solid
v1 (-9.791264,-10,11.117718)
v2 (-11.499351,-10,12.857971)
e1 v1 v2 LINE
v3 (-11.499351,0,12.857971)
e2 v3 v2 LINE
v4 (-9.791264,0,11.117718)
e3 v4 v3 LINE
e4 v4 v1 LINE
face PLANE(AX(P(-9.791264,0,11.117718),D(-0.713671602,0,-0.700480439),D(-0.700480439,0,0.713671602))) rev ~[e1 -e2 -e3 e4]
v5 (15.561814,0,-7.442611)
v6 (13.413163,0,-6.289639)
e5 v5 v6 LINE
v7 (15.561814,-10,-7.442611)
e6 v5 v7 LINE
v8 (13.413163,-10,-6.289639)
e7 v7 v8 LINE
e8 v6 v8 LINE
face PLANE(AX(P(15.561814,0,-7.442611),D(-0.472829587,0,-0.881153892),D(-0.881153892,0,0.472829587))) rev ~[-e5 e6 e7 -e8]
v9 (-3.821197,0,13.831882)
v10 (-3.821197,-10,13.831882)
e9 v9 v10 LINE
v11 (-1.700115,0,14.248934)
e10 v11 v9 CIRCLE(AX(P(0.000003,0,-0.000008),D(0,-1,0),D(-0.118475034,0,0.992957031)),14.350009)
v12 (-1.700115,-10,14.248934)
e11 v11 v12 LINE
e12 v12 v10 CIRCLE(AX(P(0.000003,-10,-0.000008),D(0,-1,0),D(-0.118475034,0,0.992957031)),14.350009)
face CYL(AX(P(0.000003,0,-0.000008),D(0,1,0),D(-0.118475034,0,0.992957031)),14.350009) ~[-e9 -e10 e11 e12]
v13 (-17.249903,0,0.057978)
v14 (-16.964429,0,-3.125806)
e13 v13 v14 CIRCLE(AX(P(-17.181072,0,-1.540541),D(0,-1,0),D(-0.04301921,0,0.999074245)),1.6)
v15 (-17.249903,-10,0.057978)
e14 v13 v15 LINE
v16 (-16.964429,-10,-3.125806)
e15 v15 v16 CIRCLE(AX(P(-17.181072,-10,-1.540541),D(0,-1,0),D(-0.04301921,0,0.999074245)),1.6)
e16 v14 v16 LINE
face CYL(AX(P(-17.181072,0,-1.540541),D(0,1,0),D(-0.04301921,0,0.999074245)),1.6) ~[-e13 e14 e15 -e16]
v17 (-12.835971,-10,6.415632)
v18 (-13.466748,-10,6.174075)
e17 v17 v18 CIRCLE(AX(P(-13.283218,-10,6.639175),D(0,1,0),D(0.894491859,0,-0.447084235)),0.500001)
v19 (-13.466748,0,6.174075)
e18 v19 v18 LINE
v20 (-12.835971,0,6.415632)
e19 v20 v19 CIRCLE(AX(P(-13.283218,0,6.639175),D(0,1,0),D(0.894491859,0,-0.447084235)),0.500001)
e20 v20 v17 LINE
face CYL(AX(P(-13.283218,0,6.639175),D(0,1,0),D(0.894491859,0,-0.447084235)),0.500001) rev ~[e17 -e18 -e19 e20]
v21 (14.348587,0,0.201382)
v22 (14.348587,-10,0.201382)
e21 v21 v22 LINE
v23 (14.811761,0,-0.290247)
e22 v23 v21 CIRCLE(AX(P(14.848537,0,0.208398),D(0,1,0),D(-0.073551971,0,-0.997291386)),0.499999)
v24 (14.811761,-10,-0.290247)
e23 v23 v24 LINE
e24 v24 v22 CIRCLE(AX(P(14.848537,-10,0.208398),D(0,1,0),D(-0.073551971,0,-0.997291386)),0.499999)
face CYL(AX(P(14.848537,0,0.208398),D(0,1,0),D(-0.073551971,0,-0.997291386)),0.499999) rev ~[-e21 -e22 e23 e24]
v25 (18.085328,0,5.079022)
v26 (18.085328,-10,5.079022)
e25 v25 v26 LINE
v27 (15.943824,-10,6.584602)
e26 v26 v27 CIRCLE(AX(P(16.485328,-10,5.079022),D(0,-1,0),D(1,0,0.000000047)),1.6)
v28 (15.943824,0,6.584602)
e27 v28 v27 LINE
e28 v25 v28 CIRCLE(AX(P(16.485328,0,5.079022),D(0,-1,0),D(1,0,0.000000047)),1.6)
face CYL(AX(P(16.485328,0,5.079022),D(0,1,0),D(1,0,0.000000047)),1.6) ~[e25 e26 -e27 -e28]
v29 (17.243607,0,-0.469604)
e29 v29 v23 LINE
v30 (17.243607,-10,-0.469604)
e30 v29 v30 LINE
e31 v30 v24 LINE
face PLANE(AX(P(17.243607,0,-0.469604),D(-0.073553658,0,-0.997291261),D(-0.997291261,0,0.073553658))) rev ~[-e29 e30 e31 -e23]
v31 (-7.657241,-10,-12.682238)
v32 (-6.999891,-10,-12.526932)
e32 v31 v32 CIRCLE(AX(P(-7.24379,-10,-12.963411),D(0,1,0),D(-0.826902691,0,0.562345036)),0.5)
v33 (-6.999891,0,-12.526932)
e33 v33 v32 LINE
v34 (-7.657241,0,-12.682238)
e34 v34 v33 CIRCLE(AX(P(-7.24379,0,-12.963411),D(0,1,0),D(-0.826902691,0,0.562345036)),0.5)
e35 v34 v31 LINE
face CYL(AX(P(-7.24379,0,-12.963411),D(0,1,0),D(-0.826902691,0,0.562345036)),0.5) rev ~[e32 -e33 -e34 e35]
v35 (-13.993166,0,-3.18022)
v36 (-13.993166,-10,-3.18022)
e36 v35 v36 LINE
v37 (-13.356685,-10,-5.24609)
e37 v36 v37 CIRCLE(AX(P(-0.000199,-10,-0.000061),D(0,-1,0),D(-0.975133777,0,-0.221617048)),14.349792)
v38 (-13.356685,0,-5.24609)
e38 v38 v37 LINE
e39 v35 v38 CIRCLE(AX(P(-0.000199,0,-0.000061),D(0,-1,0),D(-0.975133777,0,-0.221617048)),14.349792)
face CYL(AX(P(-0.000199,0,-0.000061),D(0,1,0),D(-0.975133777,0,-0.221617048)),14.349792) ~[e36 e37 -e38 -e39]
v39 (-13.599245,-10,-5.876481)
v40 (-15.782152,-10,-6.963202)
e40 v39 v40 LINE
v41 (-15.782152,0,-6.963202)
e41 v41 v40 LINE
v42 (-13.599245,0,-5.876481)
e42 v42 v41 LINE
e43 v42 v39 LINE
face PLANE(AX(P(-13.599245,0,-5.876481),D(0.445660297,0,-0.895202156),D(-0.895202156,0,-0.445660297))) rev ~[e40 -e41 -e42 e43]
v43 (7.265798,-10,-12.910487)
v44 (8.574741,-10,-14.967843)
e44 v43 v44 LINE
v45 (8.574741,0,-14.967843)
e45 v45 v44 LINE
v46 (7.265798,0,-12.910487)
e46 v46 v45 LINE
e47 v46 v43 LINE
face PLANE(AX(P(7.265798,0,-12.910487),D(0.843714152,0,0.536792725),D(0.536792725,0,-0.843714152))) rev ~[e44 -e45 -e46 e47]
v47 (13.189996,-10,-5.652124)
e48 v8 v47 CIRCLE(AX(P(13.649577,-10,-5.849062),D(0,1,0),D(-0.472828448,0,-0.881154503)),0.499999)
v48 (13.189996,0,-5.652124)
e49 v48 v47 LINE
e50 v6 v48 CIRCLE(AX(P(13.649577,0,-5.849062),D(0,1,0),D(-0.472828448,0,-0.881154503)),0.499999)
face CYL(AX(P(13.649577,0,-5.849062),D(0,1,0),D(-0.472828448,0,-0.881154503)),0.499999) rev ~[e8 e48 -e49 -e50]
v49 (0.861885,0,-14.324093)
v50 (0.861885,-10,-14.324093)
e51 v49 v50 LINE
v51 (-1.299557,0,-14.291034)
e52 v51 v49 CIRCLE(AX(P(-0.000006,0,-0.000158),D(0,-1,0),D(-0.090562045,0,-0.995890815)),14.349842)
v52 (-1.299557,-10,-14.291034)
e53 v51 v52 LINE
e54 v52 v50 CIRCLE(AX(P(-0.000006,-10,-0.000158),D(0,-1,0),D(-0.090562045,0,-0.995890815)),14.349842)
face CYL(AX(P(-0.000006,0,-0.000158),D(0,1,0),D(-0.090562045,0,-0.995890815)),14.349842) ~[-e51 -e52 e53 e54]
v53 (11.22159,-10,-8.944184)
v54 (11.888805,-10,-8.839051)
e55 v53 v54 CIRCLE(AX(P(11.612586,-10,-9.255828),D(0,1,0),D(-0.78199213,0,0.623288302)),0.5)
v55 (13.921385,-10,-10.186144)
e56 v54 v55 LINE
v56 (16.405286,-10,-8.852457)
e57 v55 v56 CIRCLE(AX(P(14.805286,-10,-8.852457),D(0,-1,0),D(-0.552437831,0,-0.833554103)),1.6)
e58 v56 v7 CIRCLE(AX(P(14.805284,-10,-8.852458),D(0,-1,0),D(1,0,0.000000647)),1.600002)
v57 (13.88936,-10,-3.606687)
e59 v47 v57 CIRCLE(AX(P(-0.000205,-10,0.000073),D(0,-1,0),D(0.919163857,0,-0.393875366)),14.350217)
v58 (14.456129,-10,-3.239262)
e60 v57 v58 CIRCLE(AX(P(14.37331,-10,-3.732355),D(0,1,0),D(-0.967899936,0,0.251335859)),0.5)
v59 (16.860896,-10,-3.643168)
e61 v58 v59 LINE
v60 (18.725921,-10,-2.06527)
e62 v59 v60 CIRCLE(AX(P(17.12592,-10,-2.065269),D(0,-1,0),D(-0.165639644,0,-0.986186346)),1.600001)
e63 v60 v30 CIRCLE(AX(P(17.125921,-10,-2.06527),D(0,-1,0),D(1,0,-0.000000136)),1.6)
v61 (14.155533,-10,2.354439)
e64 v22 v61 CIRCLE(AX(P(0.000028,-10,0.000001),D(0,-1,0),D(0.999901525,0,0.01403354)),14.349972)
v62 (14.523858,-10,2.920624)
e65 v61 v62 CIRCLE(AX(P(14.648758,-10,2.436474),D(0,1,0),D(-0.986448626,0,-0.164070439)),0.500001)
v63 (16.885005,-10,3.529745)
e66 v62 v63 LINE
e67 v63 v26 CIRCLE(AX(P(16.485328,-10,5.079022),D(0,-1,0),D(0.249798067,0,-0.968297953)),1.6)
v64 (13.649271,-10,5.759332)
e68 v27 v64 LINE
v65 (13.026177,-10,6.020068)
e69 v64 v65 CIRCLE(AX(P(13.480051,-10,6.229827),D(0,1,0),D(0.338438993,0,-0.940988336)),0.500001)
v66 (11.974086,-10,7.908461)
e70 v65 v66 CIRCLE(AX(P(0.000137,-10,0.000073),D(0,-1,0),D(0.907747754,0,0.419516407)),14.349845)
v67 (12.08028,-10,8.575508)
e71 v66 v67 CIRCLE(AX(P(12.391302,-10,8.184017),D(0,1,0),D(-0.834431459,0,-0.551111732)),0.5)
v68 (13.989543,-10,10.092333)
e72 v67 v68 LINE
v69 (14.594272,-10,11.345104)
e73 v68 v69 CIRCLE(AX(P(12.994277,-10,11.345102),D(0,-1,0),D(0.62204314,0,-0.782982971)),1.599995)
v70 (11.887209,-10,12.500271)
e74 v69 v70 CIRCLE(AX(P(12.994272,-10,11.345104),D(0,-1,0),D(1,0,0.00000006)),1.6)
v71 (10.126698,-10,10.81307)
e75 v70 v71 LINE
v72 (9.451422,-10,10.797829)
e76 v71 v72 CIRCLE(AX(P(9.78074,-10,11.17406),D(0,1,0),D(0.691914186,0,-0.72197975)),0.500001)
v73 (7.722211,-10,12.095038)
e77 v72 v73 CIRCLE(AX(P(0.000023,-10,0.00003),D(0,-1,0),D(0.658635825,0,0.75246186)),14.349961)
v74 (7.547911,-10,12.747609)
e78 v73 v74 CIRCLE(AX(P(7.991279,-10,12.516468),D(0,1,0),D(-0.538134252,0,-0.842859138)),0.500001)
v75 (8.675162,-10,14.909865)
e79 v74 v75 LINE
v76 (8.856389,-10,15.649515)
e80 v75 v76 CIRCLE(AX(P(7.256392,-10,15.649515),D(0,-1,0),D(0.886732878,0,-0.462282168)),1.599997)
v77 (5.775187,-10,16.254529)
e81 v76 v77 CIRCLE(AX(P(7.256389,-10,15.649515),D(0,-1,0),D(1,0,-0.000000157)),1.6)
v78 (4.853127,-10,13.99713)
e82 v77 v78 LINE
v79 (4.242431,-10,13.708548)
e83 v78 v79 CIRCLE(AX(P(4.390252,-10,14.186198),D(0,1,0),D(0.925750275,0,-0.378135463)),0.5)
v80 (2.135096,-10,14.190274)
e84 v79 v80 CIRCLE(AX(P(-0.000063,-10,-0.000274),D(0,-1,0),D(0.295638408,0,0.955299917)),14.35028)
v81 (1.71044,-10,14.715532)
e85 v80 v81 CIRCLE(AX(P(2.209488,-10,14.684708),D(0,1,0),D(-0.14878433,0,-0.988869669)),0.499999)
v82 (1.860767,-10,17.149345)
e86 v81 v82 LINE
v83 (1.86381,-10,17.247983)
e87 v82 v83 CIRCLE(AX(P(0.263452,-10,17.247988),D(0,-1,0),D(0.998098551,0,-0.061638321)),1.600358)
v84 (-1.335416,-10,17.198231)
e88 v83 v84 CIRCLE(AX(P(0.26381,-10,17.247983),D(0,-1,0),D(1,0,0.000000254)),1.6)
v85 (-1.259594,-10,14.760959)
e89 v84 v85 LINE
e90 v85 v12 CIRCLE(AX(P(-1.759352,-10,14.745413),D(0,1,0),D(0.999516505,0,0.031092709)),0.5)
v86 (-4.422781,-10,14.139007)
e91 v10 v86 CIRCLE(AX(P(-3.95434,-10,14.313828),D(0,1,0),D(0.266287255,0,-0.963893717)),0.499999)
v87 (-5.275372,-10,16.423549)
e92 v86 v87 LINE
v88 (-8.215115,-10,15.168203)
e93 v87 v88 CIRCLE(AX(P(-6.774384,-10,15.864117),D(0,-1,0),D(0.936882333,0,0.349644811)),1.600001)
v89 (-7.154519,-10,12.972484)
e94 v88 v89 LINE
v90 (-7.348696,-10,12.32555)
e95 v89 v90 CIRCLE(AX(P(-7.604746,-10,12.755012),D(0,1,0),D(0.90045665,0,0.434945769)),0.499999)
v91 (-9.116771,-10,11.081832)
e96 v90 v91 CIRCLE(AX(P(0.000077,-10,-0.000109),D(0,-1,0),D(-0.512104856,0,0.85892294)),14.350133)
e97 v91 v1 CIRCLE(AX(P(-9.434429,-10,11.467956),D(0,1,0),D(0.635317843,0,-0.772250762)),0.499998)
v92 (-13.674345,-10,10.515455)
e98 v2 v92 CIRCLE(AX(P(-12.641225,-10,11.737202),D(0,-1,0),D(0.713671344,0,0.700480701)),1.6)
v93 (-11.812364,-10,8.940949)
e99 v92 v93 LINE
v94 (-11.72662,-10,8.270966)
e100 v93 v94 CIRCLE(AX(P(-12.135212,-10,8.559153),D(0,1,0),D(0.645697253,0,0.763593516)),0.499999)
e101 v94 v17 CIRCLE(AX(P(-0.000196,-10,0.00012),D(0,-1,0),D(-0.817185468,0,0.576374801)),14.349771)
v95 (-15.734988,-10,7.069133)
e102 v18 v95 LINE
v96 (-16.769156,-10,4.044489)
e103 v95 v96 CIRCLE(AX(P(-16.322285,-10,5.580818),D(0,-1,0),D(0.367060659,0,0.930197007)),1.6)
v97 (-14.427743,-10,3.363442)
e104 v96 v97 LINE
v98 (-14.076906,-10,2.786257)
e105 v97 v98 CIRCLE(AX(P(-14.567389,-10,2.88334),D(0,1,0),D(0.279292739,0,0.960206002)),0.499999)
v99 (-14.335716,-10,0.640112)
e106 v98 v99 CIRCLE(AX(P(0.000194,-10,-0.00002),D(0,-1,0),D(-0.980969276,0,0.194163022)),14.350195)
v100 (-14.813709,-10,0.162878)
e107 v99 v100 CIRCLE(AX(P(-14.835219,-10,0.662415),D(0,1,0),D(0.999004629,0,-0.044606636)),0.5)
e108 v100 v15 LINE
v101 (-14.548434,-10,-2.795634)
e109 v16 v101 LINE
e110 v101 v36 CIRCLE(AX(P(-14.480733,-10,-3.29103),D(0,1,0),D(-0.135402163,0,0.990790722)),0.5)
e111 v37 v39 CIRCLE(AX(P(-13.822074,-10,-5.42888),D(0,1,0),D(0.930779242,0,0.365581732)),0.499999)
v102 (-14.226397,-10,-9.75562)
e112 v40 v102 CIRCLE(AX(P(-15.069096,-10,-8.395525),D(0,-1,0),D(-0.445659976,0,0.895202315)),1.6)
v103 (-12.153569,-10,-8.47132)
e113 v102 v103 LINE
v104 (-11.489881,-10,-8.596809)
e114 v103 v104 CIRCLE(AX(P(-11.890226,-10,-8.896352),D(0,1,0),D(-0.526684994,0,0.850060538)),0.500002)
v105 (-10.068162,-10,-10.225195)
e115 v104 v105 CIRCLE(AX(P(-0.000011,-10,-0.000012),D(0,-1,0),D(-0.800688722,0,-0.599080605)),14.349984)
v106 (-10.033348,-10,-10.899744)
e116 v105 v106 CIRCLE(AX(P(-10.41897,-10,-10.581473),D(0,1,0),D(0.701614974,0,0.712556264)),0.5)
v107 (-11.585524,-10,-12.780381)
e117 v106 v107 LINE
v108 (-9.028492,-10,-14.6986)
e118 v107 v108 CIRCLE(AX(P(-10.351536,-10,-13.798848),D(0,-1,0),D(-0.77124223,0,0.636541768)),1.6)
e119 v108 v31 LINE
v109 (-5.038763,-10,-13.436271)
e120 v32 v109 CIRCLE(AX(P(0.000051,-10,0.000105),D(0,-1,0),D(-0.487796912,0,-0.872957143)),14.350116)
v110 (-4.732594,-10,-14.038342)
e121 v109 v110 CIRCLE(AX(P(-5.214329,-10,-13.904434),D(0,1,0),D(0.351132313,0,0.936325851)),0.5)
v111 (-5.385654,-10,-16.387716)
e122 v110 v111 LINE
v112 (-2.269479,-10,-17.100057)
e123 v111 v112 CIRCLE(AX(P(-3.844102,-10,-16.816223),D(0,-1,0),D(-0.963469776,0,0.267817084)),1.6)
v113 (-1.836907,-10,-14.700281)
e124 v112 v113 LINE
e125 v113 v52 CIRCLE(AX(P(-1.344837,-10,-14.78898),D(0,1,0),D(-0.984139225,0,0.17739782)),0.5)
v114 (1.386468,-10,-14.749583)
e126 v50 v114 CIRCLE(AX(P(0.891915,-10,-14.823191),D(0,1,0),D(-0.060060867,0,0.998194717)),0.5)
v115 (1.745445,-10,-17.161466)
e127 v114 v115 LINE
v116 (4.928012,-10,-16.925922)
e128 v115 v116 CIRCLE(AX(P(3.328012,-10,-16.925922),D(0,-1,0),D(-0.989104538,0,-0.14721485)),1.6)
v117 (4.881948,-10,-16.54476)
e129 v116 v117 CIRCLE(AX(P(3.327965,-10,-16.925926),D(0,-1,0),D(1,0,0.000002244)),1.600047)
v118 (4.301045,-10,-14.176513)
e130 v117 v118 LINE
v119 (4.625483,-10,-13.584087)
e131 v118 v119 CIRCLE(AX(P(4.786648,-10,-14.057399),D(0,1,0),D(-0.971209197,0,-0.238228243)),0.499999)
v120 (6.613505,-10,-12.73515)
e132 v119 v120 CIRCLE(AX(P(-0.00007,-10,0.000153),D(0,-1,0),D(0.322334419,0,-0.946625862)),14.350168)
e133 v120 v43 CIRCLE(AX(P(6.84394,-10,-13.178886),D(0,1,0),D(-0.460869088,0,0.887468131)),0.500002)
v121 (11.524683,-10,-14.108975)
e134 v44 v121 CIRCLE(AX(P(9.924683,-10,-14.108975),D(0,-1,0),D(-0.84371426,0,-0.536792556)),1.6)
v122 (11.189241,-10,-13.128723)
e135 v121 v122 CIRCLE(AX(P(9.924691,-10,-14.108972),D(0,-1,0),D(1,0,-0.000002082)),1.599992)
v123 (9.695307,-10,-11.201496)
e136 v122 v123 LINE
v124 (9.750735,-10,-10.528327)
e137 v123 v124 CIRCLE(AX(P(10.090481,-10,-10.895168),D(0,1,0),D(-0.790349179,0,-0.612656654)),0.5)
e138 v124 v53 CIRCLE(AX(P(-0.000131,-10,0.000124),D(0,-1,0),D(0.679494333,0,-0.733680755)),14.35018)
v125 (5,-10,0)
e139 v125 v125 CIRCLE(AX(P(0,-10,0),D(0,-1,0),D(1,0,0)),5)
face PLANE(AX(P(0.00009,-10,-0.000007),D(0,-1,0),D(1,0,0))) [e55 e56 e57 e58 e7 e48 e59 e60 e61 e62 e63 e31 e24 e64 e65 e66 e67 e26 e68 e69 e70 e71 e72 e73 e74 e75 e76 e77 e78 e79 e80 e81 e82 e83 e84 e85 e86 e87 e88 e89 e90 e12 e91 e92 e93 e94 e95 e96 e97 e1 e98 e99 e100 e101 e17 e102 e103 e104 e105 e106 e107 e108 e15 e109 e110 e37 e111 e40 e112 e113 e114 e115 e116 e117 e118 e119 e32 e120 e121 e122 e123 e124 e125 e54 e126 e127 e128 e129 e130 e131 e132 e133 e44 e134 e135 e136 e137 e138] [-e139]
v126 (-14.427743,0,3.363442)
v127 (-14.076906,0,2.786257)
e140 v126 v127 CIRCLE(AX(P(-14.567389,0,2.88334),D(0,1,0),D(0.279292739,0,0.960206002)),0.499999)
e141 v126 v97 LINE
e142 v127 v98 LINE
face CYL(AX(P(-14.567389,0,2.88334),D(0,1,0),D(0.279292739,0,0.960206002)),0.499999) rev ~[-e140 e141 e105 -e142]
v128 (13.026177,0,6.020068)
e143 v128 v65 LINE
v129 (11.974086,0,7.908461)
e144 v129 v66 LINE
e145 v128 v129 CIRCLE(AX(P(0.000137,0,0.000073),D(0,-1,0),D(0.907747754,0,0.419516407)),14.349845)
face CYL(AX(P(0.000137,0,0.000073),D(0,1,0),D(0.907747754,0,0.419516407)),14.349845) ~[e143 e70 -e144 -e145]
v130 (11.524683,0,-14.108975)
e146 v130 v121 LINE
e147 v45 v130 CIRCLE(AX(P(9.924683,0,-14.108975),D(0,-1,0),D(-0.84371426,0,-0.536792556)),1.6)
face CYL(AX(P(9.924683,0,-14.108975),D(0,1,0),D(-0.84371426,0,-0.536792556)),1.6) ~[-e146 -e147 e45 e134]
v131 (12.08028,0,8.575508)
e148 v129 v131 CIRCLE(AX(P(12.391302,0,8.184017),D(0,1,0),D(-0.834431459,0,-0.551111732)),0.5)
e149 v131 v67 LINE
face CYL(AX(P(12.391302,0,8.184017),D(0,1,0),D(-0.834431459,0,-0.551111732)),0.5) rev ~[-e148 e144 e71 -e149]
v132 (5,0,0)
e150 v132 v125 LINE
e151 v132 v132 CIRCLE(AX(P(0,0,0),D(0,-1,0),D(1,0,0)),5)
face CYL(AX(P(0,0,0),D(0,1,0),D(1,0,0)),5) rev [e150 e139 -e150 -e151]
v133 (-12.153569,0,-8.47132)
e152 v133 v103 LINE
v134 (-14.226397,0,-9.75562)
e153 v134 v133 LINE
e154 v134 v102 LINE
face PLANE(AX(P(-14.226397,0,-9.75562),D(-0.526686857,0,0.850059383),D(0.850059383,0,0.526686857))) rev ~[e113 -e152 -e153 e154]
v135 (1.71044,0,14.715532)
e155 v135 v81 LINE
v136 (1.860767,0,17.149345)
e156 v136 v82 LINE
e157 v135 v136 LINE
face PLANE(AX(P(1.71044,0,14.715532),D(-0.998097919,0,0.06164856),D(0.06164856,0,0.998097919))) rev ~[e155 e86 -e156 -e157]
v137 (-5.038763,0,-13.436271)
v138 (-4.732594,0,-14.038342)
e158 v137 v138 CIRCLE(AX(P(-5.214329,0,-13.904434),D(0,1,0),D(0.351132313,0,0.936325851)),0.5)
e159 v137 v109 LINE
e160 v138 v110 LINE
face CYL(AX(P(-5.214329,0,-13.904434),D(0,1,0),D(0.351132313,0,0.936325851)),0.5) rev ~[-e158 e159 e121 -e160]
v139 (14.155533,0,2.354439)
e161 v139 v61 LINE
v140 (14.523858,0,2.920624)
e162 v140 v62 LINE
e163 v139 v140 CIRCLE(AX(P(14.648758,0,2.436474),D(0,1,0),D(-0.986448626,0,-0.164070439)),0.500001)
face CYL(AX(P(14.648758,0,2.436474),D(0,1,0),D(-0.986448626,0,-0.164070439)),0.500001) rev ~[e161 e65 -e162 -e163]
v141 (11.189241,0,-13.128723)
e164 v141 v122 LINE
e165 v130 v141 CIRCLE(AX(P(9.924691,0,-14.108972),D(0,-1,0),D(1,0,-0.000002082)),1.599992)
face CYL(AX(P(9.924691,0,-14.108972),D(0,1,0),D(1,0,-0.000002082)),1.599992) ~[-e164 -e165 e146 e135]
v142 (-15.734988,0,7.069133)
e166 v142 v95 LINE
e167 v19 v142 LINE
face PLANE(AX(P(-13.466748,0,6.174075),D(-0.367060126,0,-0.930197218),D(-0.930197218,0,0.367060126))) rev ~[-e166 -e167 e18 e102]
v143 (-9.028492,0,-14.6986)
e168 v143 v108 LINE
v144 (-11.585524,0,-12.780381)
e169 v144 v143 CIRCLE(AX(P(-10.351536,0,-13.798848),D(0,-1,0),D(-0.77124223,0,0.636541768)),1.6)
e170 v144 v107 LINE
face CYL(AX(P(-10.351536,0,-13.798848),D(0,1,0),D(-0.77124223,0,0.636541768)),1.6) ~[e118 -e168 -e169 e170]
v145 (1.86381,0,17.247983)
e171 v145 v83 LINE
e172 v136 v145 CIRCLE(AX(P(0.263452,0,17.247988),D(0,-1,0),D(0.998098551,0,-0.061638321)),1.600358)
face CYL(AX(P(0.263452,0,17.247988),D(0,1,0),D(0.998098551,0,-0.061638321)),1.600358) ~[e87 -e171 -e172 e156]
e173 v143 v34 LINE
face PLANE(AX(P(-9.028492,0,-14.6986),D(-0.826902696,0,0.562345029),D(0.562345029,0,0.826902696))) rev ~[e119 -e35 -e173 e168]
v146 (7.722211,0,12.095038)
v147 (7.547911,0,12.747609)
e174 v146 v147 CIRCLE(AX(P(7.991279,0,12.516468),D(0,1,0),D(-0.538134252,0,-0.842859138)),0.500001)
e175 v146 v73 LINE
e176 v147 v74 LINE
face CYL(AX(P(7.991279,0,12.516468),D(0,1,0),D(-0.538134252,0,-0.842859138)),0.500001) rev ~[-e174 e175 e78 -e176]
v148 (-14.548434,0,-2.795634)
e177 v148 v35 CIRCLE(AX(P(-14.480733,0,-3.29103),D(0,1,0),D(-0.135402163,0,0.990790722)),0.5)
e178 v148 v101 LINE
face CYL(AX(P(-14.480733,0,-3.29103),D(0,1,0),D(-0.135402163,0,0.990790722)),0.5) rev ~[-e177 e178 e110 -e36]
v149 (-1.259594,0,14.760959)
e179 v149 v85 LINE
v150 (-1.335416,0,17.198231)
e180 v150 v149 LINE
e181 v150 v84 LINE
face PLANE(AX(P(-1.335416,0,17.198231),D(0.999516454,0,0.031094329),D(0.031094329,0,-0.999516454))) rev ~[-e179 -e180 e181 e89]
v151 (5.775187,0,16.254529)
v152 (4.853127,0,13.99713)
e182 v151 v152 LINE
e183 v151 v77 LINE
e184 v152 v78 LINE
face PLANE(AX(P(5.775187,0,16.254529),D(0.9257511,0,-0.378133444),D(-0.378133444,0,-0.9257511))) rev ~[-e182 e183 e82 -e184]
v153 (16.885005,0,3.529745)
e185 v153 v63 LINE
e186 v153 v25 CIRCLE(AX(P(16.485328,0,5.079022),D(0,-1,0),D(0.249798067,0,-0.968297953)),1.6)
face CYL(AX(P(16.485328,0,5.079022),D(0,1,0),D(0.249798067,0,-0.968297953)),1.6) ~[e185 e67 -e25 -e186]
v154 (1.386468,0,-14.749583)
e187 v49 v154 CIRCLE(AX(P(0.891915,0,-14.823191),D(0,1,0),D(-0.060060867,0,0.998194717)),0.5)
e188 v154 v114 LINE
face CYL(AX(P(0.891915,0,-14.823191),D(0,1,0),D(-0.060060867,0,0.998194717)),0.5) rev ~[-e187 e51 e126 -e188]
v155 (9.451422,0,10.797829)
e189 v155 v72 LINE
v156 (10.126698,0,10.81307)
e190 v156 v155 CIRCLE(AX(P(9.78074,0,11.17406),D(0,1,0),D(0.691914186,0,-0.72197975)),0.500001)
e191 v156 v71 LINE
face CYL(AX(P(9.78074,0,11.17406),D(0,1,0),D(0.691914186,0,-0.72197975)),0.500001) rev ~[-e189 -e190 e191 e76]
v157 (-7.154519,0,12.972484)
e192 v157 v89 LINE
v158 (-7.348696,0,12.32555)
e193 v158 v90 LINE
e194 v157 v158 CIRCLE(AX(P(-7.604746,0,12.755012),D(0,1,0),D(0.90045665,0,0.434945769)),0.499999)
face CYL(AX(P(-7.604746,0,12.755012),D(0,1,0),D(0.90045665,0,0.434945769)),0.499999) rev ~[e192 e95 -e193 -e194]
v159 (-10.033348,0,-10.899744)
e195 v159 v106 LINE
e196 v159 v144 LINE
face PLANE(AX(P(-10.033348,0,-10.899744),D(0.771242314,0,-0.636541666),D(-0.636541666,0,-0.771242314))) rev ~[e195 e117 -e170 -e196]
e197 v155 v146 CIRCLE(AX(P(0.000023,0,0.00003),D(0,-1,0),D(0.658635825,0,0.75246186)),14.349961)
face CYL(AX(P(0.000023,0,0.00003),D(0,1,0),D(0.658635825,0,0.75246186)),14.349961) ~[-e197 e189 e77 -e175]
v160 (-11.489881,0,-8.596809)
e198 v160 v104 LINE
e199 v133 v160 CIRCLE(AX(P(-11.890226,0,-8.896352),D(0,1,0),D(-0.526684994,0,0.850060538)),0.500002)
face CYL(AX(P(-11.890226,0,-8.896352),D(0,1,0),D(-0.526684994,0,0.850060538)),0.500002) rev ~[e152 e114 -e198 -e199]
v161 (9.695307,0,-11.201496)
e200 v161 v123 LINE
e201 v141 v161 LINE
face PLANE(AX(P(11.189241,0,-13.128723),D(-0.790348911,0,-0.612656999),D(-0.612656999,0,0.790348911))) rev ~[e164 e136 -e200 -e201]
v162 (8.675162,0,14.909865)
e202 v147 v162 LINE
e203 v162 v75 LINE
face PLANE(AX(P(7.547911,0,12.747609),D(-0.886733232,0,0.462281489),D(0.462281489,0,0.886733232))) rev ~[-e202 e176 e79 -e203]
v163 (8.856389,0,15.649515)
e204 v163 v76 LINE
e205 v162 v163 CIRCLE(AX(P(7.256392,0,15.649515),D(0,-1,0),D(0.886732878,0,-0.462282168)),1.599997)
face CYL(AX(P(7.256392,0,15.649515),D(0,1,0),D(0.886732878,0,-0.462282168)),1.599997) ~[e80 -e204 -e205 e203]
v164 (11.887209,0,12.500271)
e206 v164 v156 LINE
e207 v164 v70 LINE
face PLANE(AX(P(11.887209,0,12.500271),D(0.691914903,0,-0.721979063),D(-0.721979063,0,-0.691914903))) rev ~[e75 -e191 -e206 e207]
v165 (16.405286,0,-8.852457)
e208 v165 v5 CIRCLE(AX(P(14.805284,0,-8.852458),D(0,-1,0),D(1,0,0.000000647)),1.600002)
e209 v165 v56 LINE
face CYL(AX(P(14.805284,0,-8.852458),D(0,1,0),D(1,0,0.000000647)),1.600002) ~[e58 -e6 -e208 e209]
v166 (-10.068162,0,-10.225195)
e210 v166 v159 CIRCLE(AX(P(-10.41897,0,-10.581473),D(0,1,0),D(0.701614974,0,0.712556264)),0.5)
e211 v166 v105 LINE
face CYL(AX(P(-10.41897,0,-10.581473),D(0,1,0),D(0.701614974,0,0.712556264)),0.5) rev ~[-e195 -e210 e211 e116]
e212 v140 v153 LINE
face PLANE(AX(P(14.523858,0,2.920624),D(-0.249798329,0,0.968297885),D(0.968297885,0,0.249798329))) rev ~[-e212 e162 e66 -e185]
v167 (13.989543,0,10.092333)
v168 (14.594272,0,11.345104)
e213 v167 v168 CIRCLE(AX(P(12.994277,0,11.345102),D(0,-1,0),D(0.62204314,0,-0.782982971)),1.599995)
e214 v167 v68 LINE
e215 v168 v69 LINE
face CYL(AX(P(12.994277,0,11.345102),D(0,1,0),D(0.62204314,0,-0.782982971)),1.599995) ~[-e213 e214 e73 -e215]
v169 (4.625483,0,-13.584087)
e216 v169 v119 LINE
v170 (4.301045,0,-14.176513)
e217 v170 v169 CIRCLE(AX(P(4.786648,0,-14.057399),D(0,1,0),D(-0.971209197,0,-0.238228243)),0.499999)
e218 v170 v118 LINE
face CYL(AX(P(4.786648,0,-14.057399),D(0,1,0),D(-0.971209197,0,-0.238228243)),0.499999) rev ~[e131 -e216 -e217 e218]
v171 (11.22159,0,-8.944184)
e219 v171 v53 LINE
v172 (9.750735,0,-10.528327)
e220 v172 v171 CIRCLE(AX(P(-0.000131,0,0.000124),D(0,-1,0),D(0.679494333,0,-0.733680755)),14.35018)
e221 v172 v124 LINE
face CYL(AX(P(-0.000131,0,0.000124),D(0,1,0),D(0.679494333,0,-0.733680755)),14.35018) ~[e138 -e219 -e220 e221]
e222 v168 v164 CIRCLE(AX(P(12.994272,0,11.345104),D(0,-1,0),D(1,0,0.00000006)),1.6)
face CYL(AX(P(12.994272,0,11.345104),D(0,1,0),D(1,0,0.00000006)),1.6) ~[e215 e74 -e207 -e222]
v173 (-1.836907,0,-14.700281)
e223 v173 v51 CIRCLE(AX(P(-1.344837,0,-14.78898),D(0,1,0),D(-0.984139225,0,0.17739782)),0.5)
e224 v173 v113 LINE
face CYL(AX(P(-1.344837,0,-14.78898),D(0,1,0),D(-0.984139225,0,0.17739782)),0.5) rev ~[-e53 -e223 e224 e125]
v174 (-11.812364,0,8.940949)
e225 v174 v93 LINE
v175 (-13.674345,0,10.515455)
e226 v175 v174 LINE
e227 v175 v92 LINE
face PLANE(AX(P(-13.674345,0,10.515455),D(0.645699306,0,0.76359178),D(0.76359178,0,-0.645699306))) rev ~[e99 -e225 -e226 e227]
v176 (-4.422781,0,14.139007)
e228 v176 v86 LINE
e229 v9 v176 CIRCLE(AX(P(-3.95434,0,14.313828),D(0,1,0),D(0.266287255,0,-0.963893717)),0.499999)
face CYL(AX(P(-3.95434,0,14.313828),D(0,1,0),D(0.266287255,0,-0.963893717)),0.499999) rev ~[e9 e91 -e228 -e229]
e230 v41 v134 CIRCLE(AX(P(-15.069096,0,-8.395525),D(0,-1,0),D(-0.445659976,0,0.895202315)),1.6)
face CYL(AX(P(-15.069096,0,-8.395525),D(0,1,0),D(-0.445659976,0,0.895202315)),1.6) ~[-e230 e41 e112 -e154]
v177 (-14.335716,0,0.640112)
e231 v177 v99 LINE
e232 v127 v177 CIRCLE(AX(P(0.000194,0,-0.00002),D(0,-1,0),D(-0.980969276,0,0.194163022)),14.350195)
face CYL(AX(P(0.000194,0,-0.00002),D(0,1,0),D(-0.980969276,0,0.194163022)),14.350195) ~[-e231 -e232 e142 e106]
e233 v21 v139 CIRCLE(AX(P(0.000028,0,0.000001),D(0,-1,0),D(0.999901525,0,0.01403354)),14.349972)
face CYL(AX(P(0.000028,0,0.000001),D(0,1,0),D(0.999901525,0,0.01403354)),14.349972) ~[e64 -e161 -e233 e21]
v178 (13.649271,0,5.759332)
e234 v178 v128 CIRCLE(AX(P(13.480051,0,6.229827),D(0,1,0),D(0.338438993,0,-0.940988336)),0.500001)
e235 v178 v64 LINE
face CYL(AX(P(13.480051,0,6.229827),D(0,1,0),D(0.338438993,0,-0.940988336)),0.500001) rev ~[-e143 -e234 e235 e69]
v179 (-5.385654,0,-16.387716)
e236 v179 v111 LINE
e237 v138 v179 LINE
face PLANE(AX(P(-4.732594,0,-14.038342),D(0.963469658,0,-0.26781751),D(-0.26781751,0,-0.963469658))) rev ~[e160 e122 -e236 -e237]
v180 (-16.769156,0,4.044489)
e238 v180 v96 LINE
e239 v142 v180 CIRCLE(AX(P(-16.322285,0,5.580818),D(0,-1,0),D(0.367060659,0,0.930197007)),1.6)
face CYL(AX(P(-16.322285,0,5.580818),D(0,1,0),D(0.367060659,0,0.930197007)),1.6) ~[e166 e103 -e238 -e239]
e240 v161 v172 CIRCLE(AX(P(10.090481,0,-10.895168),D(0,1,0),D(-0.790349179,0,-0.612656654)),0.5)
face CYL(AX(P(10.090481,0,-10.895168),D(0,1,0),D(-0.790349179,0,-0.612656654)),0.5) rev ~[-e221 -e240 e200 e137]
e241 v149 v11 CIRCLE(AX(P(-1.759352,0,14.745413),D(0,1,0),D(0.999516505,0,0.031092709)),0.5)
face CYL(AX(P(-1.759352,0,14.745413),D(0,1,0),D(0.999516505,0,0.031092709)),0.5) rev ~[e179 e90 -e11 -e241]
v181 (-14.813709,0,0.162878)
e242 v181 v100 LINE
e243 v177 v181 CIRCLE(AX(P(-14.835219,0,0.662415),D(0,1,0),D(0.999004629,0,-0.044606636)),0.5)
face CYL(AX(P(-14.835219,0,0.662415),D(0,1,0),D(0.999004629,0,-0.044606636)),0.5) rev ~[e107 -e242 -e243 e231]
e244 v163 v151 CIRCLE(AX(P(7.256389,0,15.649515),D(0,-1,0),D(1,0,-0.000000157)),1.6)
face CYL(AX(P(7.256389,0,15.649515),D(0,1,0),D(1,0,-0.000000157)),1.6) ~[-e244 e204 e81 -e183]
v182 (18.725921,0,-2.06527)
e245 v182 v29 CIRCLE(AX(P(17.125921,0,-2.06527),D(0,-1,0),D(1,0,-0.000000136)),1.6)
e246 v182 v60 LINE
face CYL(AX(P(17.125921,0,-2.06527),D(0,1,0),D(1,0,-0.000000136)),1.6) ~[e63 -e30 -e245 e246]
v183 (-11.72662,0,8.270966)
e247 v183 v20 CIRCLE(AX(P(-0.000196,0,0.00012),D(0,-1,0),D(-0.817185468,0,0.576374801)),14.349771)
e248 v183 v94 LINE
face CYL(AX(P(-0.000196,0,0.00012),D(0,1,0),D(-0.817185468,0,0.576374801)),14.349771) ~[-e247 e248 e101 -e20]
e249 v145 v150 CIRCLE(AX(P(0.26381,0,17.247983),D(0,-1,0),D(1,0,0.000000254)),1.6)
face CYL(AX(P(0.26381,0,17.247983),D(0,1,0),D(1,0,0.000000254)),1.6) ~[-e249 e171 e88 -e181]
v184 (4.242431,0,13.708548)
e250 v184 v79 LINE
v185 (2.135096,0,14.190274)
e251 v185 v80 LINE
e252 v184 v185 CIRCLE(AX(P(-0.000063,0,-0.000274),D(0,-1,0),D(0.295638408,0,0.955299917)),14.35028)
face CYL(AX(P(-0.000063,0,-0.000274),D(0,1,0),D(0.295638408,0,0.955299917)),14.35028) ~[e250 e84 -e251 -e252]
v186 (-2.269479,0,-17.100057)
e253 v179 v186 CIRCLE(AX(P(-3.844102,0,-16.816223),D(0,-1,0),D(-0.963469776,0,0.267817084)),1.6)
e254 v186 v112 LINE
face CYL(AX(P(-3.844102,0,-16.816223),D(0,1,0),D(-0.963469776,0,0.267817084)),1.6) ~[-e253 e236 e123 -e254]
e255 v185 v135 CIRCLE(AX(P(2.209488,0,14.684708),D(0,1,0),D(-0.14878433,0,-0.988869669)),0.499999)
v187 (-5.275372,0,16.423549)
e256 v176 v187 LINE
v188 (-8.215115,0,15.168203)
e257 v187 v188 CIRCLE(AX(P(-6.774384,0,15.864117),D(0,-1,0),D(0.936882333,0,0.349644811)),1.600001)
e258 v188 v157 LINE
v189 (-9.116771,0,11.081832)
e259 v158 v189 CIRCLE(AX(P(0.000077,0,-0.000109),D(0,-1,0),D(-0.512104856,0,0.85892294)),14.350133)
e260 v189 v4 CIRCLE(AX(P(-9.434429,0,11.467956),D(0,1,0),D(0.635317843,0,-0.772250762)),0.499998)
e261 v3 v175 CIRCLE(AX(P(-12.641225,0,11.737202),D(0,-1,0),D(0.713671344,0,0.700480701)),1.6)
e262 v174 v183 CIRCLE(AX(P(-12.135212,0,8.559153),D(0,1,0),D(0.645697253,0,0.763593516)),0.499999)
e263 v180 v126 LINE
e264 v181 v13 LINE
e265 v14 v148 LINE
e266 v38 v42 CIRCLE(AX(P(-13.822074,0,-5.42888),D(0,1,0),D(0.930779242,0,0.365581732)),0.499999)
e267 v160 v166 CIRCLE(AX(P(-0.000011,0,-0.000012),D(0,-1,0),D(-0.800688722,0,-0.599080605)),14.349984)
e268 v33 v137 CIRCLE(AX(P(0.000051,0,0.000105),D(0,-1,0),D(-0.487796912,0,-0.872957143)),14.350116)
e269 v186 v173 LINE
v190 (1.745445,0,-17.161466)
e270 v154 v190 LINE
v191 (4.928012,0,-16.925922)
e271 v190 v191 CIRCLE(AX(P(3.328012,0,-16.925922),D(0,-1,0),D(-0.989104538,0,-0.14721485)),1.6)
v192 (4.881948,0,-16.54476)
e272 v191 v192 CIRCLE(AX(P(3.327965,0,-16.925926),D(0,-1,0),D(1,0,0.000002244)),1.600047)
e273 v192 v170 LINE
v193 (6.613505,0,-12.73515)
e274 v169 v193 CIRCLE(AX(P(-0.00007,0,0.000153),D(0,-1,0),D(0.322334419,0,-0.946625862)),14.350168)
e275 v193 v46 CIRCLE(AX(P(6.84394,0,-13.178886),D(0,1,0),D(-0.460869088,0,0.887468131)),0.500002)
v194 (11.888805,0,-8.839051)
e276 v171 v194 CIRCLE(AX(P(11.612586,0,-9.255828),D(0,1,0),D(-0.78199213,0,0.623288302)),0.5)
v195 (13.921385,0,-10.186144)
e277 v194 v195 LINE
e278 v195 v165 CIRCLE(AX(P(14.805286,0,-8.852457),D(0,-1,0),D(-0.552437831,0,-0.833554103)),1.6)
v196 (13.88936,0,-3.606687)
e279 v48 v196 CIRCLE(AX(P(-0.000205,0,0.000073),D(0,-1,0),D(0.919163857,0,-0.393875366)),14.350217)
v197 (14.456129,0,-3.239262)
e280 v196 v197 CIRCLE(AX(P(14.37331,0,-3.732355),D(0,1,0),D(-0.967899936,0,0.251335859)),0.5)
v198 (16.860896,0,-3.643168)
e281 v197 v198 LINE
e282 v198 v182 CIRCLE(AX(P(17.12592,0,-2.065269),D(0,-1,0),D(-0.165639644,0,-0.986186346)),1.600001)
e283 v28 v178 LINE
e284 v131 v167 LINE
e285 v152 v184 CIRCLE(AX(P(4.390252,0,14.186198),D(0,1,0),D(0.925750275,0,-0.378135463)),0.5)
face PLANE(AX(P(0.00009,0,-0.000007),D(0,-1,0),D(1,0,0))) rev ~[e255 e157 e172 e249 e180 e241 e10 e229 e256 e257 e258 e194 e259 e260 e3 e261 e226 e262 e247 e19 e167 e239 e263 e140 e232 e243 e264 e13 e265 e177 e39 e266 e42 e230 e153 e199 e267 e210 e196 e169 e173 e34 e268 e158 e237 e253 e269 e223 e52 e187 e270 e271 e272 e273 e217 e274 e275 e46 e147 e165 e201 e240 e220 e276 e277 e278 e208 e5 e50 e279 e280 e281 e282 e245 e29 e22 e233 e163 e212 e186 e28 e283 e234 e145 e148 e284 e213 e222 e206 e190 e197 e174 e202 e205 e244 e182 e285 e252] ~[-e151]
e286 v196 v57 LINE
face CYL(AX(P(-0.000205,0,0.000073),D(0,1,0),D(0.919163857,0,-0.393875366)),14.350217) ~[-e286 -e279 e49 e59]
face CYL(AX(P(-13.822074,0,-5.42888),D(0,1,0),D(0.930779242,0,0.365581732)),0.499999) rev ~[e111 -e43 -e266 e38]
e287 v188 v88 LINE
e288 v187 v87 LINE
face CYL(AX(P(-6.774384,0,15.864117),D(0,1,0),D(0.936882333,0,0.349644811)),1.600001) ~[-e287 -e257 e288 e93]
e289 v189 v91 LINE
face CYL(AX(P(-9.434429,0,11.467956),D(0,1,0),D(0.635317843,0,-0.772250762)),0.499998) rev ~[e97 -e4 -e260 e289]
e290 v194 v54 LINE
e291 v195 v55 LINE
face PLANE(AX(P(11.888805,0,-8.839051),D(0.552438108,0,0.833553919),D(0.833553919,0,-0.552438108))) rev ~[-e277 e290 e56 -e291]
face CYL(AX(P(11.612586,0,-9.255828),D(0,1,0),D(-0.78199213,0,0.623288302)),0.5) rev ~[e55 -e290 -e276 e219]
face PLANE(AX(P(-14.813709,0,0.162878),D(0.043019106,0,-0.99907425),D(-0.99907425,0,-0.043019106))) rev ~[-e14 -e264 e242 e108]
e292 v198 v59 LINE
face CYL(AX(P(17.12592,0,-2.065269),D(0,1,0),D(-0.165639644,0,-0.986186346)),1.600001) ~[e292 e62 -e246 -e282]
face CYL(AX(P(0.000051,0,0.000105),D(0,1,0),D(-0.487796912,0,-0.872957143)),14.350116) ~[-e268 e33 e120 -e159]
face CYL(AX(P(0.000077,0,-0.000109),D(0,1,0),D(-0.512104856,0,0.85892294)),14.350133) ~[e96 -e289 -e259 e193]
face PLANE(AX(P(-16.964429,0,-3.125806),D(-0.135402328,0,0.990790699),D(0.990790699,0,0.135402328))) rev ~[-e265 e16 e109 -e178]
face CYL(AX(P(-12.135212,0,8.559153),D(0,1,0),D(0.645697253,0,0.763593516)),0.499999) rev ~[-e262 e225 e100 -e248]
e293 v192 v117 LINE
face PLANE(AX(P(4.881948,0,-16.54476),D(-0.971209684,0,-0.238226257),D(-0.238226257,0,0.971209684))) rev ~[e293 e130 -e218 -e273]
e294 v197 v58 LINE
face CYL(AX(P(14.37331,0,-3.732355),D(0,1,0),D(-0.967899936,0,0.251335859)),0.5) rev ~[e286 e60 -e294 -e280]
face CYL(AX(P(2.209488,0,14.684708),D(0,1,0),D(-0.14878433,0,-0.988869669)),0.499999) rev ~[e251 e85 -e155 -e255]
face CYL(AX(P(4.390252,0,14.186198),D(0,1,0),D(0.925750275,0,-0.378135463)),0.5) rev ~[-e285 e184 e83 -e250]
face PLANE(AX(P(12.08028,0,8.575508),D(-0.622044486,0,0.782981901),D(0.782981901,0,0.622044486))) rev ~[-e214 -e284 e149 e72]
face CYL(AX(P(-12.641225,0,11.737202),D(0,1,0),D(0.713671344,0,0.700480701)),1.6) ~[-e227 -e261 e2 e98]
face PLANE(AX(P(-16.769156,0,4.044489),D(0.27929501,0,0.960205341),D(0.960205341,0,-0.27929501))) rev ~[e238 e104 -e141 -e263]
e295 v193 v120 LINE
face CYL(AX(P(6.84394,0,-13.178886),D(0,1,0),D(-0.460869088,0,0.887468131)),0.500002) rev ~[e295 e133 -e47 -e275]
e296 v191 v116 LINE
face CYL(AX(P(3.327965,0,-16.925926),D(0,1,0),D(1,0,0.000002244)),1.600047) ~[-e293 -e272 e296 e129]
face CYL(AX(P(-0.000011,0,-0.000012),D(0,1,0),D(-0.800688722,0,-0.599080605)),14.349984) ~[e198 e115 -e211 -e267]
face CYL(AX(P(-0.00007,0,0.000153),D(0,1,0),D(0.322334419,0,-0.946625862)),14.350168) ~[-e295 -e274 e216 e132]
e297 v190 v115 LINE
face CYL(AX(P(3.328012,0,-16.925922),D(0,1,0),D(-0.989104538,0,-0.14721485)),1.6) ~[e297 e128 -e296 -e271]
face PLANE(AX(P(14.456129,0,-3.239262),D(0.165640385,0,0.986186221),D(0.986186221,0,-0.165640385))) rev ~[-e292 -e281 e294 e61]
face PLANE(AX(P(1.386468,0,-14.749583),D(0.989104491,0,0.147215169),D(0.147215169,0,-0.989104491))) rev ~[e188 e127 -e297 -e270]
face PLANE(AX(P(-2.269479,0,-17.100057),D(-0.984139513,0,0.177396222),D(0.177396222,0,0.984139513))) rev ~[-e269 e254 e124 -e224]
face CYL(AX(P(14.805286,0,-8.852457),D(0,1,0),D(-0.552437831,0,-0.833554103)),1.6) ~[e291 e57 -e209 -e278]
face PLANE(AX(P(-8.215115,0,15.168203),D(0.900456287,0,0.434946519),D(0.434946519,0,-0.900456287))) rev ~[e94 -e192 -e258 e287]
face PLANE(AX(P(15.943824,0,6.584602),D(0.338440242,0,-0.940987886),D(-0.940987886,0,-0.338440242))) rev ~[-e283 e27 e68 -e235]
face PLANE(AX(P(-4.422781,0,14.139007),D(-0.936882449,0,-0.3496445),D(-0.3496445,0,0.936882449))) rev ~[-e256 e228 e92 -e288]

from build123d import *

# Parameters (mm, degrees)
F0_R     = 5
F1_DEPTH = 10


with BuildPart() as f1:
    # F0 (on Front) → F1 (new body)
    with BuildSketch(Plane.XZ):
        with BuildLine():
            ThreePointArc((13.88936, -3.606687), (14.234374, -1.817992), (14.35, 0))
            ThreePointArc((14.35, 0), (14.349647, 0.100694), (14.348587, 0.201382))
            ThreePointArc((14.348587, 0.201382), (14.29266, 1.281551), (14.155533, 2.354439))
            ThreePointArc((14.155533, 2.354439), (13.713882, 4.225157), (13.026177, 6.020068))
            ThreePointArc((13.026177, 6.020068), (12.535741, 6.984104), (11.974086, 7.908461))
            ThreePointArc((11.974086, 7.908461), (10.809728, 9.437811), (9.451422, 10.797829))
            ThreePointArc((9.451422, 10.797829), (8.611278, 11.479041), (7.722211, 12.095038))
            ThreePointArc((7.722211, 12.095038), (6.036474, 13.018582), (4.242431, 13.708548))
            ThreePointArc((4.242431, 13.708548), (3.197847, 13.989148), (2.135096, 14.190274))
            ThreePointArc((2.135096, 14.190274), (0.219459, 14.348322), (-1.700115, 14.248934))
            ThreePointArc((-1.700115, 14.248934), (-2.76852, 14.080405), (-3.821197, 13.831882))
            ThreePointArc((-3.821197, 13.831882), (-5.635502, 13.197106), (-7.348696, 12.32555))
            ThreePointArc((-7.348696, 12.32555), (-8.256186, 11.737031), (-9.116771, 11.081832))
            ThreePointArc((-9.116771, 11.081832), (-10.516034, 9.763991), (-11.72662, 8.270966))
            ThreePointArc((-11.72662, 8.270966), (-12.316282, 7.364218), (-12.835971, 6.415632))
            ThreePointArc((-12.835971, 6.415632), (-13.578248, 4.642593), (-14.076906, 2.786257))
            ThreePointArc((-14.076906, 2.786257), (-14.24678, 1.718065), (-14.335716, 0.640112))
            ThreePointArc((-14.335716, 0.640112), (-14.29266, -1.281551), (-13.993166, -3.18022))
            ThreePointArc((-13.993166, -3.18022), (-13.713882, -4.225157), (-13.356685, -5.24609))
            ThreePointArc((-13.356685, -5.24609), (-12.535741, -6.984104), (-11.489881, -8.596809))
            ThreePointArc((-11.489881, -8.596809), (-10.809728, -9.437811), (-10.068162, -10.225195))
            ThreePointArc((-10.068162, -10.225195), (-8.611278, -11.479041), (-6.999891, -12.526932))
            ThreePointArc((-6.999891, -12.526932), (-6.036474, -13.018582), (-5.038763, -13.436271))
            ThreePointArc((-5.038763, -13.436271), (-3.197847, -13.989148), (-1.299557, -14.291034))
            ThreePointArc((-1.299557, -14.291034), (-0.219459, -14.348322), (0.861885, -14.324093))
            ThreePointArc((0.861885, -14.324093), (2.76852, -14.080405), (4.625483, -13.584087))
            ThreePointArc((4.625483, -13.584087), (5.635502, -13.197106), (6.613505, -12.73515))
            ThreePointArc((6.613505, -12.73515), (8.256186, -11.737031), (9.750735, -10.528327))
            ThreePointArc((9.750735, -10.528327), (10.516034, -9.763991), (11.22159, -8.944184))
            ThreePointArc((11.22159, -8.944184), (12.316282, -7.364218), (13.189996, -5.652124))
            ThreePointArc((13.189996, -5.652124), (13.578248, -4.642593), (13.88936, -3.606687))
        make_face()
        Circle(F0_R, mode=Mode.SUBTRACT)
        with BuildLine():
            ThreePointArc((14.348587, 0.201382), (14.349647, 0.100694), (14.35, 0))
            ThreePointArc((14.35, 0), (14.234374, -1.817992), (13.88936, -3.606687))
            ThreePointArc((13.88936, -3.606687), (14.101323, -3.312804), (14.456129, -3.239262))
            Line((14.456129, -3.239262), (16.860896, -3.643168))
            ThreePointArc((16.860896, -3.643168), (15.53743, -1.873709), (17.243607, -0.469604))
            Line((17.243607, -0.469604), (14.811761, -0.290247))
            ThreePointArc((14.811761, -0.290247), (14.484609, -0.134466), (14.348587, 0.201382))
        make_face()
        with BuildLine():
            ThreePointArc((13.026177, 6.020068), (13.713882, 4.225157), (14.155533, 2.354439))
            ThreePointArc((14.155533, 2.354439), (14.229639, 2.709128), (14.523858, 2.920624))
            Line((14.523858, 2.920624), (16.885005, 3.529745))
            ThreePointArc((16.885005, 3.529745), (14.956254, 4.607924), (15.943824, 6.584602))
            Line((15.943824, 6.584602), (13.649271, 5.759332))
            ThreePointArc((13.649271, 5.759332), (13.287041, 5.768581), (13.026177, 6.020068))
        make_face()
        with BuildLine():
            ThreePointArc((13.413163, -6.289639), (13.177657, -6.014262), (13.189996, -5.652124))
            ThreePointArc((13.189996, -5.652124), (12.316282, -7.364218), (11.22159, -8.944184))
            ThreePointArc((11.22159, -8.944184), (11.534761, -8.761922), (11.888805, -8.839051))
            Line((11.888805, -8.839051), (13.921385, -10.186144))
            ThreePointArc((13.921385, -10.186144), (13.432042, -8.03136), (15.561814, -7.442611))
            Line((15.561814, -7.442611), (13.413163, -6.289639))
        make_face()
        with BuildLine():
            ThreePointArc((18.725921, -2.06527), (18.298162, -0.976302), (17.243607, -0.469604))
            ThreePointArc((17.243607, -0.469604), (15.53743, -1.873709), (16.860896, -3.643168))
            ThreePointArc((16.860896, -3.643168), (18.159352, -3.286752), (18.725921, -2.06527))
        make_face()
        with BuildLine():
            ThreePointArc((9.451422, 10.797829), (10.809728, 9.437811), (11.974086, 7.908461))
            ThreePointArc((11.974086, 7.908461), (11.89752, 8.262627), (12.08028, 8.575508))
            Line((12.08028, 8.575508), (13.989543, 10.092333))
            ThreePointArc((13.989543, 10.092333), (11.789006, 10.292805), (11.887209, 12.500271))
            Line((11.887209, 12.500271), (10.126698, 10.81307))
            ThreePointArc((10.126698, 10.81307), (9.792023, 10.674187), (9.451422, 10.797829))
        make_face()
        with BuildLine():
            ThreePointArc((15.943824, 6.584602), (14.956254, 4.607924), (16.885005, 3.529745))
            ThreePointArc((16.885005, 3.529745), (17.750137, 4.099094), (18.085328, 5.079022))
            ThreePointArc((18.085328, 5.079022), (17.405543, 6.387916), (15.943824, 6.584602))
        make_face()
        with BuildLine():
            ThreePointArc((9.695307, -11.201496), (9.592168, -10.854137), (9.750735, -10.528327))
            ThreePointArc((9.750735, -10.528327), (8.256186, -11.737031), (6.613505, -12.73515))
            ThreePointArc((6.613505, -12.73515), (6.973734, -12.696024), (7.265798, -12.910487))
            Line((7.265798, -12.910487), (8.574741, -14.967843))
            ThreePointArc((8.574741, -14.967843), (9.004133, -12.800316), (11.189241, -13.128723))
            Line((11.189241, -13.128723), (9.695307, -11.201496))
        make_face()
        with BuildLine():
            ThreePointArc((16.405286, -8.852457), (16.17832, -8.031009), (15.561814, -7.442611))
            ThreePointArc((15.561814, -7.442611), (13.432042, -8.03136), (13.921385, -10.186144))
            ThreePointArc((13.921385, -10.186144), (15.562174, -10.26211), (16.405286, -8.852457))
        make_face()
        with BuildLine():
            ThreePointArc((4.242431, 13.708548), (6.036474, 13.018582), (7.722211, 12.095038))
            ThreePointArc((7.722211, 12.095038), (7.508212, 12.387443), (7.547911, 12.747609))
            Line((7.547911, 12.747609), (8.675162, 14.909865))
            ThreePointArc((8.675162, 14.909865), (6.583332, 14.197966), (5.775187, 16.254529))
            Line((5.775187, 16.254529), (4.853127, 13.99713))
            ThreePointArc((4.853127, 13.99713), (4.603875, 13.73413), (4.242431, 13.708548))
        make_face()
        with BuildLine():
            ThreePointArc((11.887209, 12.500271), (11.789006, 10.292805), (13.989543, 10.092333))
            ThreePointArc((13.989543, 10.092333), (14.435181, 10.649559), (14.594272, 11.345104))
            ThreePointArc((14.594272, 11.345104), (13.622244, 12.816719), (11.887209, 12.500271))
        make_face()
        with BuildLine():
            ThreePointArc((4.301045, -14.176513), (4.348106, -13.817234), (4.625483, -13.584087))
            ThreePointArc((4.625483, -13.584087), (2.76852, -14.080405), (0.861885, -14.324093))
            ThreePointArc((0.861885, -14.324093), (1.206885, -14.434868), (1.386468, -14.749583))
            Line((1.386468, -14.749583), (1.745445, -17.161466))
            ThreePointArc((1.745445, -17.161466), (3.019327, -15.355981), (4.881948, -16.54476))
            Line((4.881948, -16.54476), (4.301045, -14.176513))
        make_face()
        with BuildLine():
            ThreePointArc((11.524683, -14.108975), (11.438502, -13.590946), (11.189241, -13.128723))
            ThreePointArc((11.189241, -13.128723), (9.004133, -12.800316), (8.574741, -14.967843))
            ThreePointArc((8.574741, -14.967843), (10.371948, -15.645189), (11.524683, -14.108975))
        make_face()
        with BuildLine():
            ThreePointArc((-1.700115, 14.248934), (0.219459, 14.348322), (2.135096, 14.190274))
            ThreePointArc((2.135096, 14.190274), (1.820666, 14.370357), (1.71044, 14.715532))
            Line((1.71044, 14.715532), (1.860767, 17.149345))
            ThreePointArc((1.860767, 17.149345), (0.239341, 15.64817), (-1.335416, 17.198231))
            Line((-1.335416, 17.198231), (-1.259594, 14.760959))
            ThreePointArc((-1.259594, 14.760959), (-1.380325, 14.419317), (-1.700115, 14.248934))
        make_face()
        with BuildLine():
            ThreePointArc((5.775187, 16.254529), (6.583332, 14.197966), (8.675162, 14.909865))
            ThreePointArc((8.675162, 14.909865), (8.810422, 15.268751), (8.856389, 15.649515))
            ThreePointArc((8.856389, 15.649515), (7.564672, 17.219535), (5.775187, 16.254529))
        make_face()
        with BuildLine():
            ThreePointArc((-1.836907, -14.700281), (-1.647783, -14.391206), (-1.299557, -14.291034))
            ThreePointArc((-1.299557, -14.291034), (-3.197847, -13.989148), (-5.038763, -13.436271))
            ThreePointArc((-5.038763, -13.436271), (-4.768646, -13.677792), (-4.732594, -14.038342))
            Line((-4.732594, -14.038342), (-5.385654, -16.387716))
            ThreePointArc((-5.385654, -16.387716), (-3.627864, -15.230903), (-2.244102, -16.816224))
            ThreePointArc((-2.244102, -16.816224), (-2.250459, -16.958707), (-2.269479, -17.100057))
            Line((-2.269479, -17.100057), (-1.836907, -14.700281))
        make_face()
        with BuildLine():
            ThreePointArc((4.928012, -16.925922), (4.916454, -16.733954), (4.881948, -16.54476))
            ThreePointArc((4.881948, -16.54476), (3.019327, -15.355981), (1.745445, -17.161466))
            ThreePointArc((1.745445, -17.161466), (3.446106, -18.521558), (4.928012, -16.925922))
        make_face()
        with BuildLine():
            ThreePointArc((-7.348696, 12.32555), (-5.635502, 13.197106), (-3.821197, 13.831882))
            ThreePointArc((-3.821197, 13.831882), (-4.181689, 13.868506), (-4.422781, 14.139007))
            Line((-4.422781, 14.139007), (-5.275372, 16.423549))
            ThreePointArc((-5.275372, 16.423549), (-5.199834, 16.148354), (-5.174384, 15.864117))
            ThreePointArc((-5.174384, 15.864117), (-6.417431, 14.304443), (-8.215115, 15.168203))
            Line((-8.215115, 15.168203), (-7.154519, 12.972484))
            ThreePointArc((-7.154519, 12.972484), (-7.125854, 12.611272), (-7.348696, 12.32555))
        make_face()
        with BuildLine():
            ThreePointArc((-1.335416, 17.198231), (0.239341, 15.64817), (1.860767, 17.149345))
            ThreePointArc((1.860767, 17.149345), (1.863049, 17.198641), (1.86381, 17.247983))
            ThreePointArc((1.86381, 17.247983), (0.238931, 18.847789), (-1.335416, 17.198231))
        make_face()
        with BuildLine():
            ThreePointArc((-7.657241, -12.682238), (-7.358755, -12.476807), (-6.999891, -12.526932))
            ThreePointArc((-6.999891, -12.526932), (-8.611278, -11.479041), (-10.068162, -10.225195))
            ThreePointArc((-10.068162, -10.225195), (-9.919634, -10.555702), (-10.033348, -10.899744))
            Line((-10.033348, -10.899744), (-11.585524, -12.780381))
            ThreePointArc((-11.585524, -12.780381), (-9.810417, -12.293128), (-8.751536, -13.798848))
            ThreePointArc((-8.751536, -13.798848), (-8.822342, -14.269554), (-9.028492, -14.6986))
            Line((-9.028492, -14.6986), (-7.657241, -12.682238))
        make_face()
        with BuildLine():
            ThreePointArc((-5.385654, -16.387716), (-4.200657, -18.375989), (-2.269479, -17.100057))
            ThreePointArc((-2.269479, -17.100057), (-2.250459, -16.958707), (-2.244102, -16.816224))
            ThreePointArc((-2.244102, -16.816224), (-3.627864, -15.230903), (-5.385654, -16.387716))
        make_face()
        with BuildLine():
            ThreePointArc((-11.72662, 8.270966), (-10.516034, 9.763991), (-9.116771, 11.081832))
            ThreePointArc((-9.116771, 11.081832), (-9.460993, 10.968664), (-9.791264, 11.117718))
            Line((-9.791264, 11.117718), (-11.499351, 12.857971))
            ThreePointArc((-11.499351, 12.857971), (-11.160179, 12.342595), (-11.041226, 11.737202))
            ThreePointArc((-11.041226, 11.737202), (-11.967798, 10.285825), (-13.674345, 10.515455))
            Line((-13.674345, 10.515455), (-11.812364, 8.940949))
            ThreePointArc((-11.812364, 8.940949), (-11.639258, 8.622625), (-11.72662, 8.270966))
        make_face()
        with BuildLine():
            ThreePointArc((-5.174384, 15.864117), (-5.199834, 16.148354), (-5.275372, 16.423549))
            ThreePointArc((-5.275372, 16.423549), (-7.402733, 17.335572), (-8.215115, 15.168203))
            ThreePointArc((-8.215115, 15.168203), (-6.417431, 14.304443), (-5.174384, 15.864117))
        make_face()
        with BuildLine():
            ThreePointArc((-12.153569, -8.47132), (-11.797332, -8.405055), (-11.489881, -8.596809))
            ThreePointArc((-11.489881, -8.596809), (-12.535741, -6.984104), (-13.356685, -5.24609))
            ThreePointArc((-13.356685, -5.24609), (-13.355427, -5.608435), (-13.599245, -5.876481))
            Line((-13.599245, -5.876481), (-15.782152, -6.963202))
            ThreePointArc((-15.782152, -6.963202), (-14.226745, -7.035215), (-13.469096, -8.395525))
            ThreePointArc((-13.469096, -8.395525), (-13.671184, -9.173883), (-14.226397, -9.75562))
            Line((-14.226397, -9.75562), (-12.153569, -8.47132))
        make_face()
        with BuildLine():
            ThreePointArc((-11.585524, -12.780381), (-11.311679, -15.078741), (-9.028492, -14.6986))
            ThreePointArc((-9.028492, -14.6986), (-8.822342, -14.269554), (-8.751536, -13.798848))
            ThreePointArc((-8.751536, -13.798848), (-9.810417, -12.293128), (-11.585524, -12.780381))
        make_face()
        with BuildLine():
            ThreePointArc((-14.076906, 2.786257), (-13.578248, 4.642593), (-12.835971, 6.415632))
            ThreePointArc((-12.835971, 6.415632), (-13.104405, 6.172241), (-13.466748, 6.174075))
            Line((-13.466748, 6.174075), (-15.734988, 7.069133))
            ThreePointArc((-15.734988, 7.069133), (-14.99947, 6.480908), (-14.722285, 5.580818))
            ThreePointArc((-14.722285, 5.580818), (-15.361815, 4.30117), (-16.769156, 4.044489))
            Line((-16.769156, 4.044489), (-14.427743, 3.363442))
            ThreePointArc((-14.427743, 3.363442), (-14.140129, 3.143047), (-14.076906, 2.786257))
        make_face()
        with BuildLine():
            ThreePointArc((-11.041226, 11.737202), (-11.160179, 12.342595), (-11.499351, 12.857971))
            ThreePointArc((-11.499351, 12.857971), (-13.813745, 12.82587), (-13.674345, 10.515455))
            ThreePointArc((-13.674345, 10.515455), (-11.967798, 10.285825), (-11.041226, 11.737202))
        make_face()
        with BuildLine():
            ThreePointArc((-14.548434, -2.795634), (-14.196043, -2.879992), (-13.993166, -3.18022))
            ThreePointArc((-13.993166, -3.18022), (-14.29266, -1.281551), (-14.335716, 0.640112))
            ThreePointArc((-14.335716, 0.640112), (-14.481946, 0.308581), (-14.813709, 0.162878))
            Line((-14.813709, 0.162878), (-17.249903, 0.057978))
            ThreePointArc((-17.249903, 0.057978), (-16.074304, -0.385091), (-15.581072, -1.54054))
            ThreePointArc((-15.581072, -1.54054), (-15.975537, -2.592532), (-16.964429, -3.125806))
            Line((-16.964429, -3.125806), (-14.548434, -2.795634))
        make_face()
        with BuildLine():
            ThreePointArc((-15.782152, -6.963202), (-16.466809, -9.174241), (-14.226397, -9.75562))
            ThreePointArc((-14.226397, -9.75562), (-13.671184, -9.173883), (-13.469096, -8.395525))
            ThreePointArc((-13.469096, -8.395525), (-14.226745, -7.035215), (-15.782152, -6.963202))
        make_face()
        with BuildLine():
            ThreePointArc((-14.722285, 5.580818), (-14.99947, 6.480908), (-15.734988, 7.069133))
            ThreePointArc((-15.734988, 7.069133), (-17.836236, 6.098459), (-16.769156, 4.044489))
            ThreePointArc((-16.769156, 4.044489), (-15.361815, 4.30117), (-14.722285, 5.580818))
        make_face()
        with BuildLine():
            ThreePointArc((-17.249903, 0.057978), (-18.774679, -1.683431), (-16.964429, -3.125806))
            ThreePointArc((-16.964429, -3.125806), (-15.975537, -2.592532), (-15.581072, -1.54054))
            ThreePointArc((-15.581072, -1.54054), (-16.074304, -0.385091), (-17.249903, 0.057978))
        make_face()
    extrude(amount=F1_DEPTH)


solid = f1.part
